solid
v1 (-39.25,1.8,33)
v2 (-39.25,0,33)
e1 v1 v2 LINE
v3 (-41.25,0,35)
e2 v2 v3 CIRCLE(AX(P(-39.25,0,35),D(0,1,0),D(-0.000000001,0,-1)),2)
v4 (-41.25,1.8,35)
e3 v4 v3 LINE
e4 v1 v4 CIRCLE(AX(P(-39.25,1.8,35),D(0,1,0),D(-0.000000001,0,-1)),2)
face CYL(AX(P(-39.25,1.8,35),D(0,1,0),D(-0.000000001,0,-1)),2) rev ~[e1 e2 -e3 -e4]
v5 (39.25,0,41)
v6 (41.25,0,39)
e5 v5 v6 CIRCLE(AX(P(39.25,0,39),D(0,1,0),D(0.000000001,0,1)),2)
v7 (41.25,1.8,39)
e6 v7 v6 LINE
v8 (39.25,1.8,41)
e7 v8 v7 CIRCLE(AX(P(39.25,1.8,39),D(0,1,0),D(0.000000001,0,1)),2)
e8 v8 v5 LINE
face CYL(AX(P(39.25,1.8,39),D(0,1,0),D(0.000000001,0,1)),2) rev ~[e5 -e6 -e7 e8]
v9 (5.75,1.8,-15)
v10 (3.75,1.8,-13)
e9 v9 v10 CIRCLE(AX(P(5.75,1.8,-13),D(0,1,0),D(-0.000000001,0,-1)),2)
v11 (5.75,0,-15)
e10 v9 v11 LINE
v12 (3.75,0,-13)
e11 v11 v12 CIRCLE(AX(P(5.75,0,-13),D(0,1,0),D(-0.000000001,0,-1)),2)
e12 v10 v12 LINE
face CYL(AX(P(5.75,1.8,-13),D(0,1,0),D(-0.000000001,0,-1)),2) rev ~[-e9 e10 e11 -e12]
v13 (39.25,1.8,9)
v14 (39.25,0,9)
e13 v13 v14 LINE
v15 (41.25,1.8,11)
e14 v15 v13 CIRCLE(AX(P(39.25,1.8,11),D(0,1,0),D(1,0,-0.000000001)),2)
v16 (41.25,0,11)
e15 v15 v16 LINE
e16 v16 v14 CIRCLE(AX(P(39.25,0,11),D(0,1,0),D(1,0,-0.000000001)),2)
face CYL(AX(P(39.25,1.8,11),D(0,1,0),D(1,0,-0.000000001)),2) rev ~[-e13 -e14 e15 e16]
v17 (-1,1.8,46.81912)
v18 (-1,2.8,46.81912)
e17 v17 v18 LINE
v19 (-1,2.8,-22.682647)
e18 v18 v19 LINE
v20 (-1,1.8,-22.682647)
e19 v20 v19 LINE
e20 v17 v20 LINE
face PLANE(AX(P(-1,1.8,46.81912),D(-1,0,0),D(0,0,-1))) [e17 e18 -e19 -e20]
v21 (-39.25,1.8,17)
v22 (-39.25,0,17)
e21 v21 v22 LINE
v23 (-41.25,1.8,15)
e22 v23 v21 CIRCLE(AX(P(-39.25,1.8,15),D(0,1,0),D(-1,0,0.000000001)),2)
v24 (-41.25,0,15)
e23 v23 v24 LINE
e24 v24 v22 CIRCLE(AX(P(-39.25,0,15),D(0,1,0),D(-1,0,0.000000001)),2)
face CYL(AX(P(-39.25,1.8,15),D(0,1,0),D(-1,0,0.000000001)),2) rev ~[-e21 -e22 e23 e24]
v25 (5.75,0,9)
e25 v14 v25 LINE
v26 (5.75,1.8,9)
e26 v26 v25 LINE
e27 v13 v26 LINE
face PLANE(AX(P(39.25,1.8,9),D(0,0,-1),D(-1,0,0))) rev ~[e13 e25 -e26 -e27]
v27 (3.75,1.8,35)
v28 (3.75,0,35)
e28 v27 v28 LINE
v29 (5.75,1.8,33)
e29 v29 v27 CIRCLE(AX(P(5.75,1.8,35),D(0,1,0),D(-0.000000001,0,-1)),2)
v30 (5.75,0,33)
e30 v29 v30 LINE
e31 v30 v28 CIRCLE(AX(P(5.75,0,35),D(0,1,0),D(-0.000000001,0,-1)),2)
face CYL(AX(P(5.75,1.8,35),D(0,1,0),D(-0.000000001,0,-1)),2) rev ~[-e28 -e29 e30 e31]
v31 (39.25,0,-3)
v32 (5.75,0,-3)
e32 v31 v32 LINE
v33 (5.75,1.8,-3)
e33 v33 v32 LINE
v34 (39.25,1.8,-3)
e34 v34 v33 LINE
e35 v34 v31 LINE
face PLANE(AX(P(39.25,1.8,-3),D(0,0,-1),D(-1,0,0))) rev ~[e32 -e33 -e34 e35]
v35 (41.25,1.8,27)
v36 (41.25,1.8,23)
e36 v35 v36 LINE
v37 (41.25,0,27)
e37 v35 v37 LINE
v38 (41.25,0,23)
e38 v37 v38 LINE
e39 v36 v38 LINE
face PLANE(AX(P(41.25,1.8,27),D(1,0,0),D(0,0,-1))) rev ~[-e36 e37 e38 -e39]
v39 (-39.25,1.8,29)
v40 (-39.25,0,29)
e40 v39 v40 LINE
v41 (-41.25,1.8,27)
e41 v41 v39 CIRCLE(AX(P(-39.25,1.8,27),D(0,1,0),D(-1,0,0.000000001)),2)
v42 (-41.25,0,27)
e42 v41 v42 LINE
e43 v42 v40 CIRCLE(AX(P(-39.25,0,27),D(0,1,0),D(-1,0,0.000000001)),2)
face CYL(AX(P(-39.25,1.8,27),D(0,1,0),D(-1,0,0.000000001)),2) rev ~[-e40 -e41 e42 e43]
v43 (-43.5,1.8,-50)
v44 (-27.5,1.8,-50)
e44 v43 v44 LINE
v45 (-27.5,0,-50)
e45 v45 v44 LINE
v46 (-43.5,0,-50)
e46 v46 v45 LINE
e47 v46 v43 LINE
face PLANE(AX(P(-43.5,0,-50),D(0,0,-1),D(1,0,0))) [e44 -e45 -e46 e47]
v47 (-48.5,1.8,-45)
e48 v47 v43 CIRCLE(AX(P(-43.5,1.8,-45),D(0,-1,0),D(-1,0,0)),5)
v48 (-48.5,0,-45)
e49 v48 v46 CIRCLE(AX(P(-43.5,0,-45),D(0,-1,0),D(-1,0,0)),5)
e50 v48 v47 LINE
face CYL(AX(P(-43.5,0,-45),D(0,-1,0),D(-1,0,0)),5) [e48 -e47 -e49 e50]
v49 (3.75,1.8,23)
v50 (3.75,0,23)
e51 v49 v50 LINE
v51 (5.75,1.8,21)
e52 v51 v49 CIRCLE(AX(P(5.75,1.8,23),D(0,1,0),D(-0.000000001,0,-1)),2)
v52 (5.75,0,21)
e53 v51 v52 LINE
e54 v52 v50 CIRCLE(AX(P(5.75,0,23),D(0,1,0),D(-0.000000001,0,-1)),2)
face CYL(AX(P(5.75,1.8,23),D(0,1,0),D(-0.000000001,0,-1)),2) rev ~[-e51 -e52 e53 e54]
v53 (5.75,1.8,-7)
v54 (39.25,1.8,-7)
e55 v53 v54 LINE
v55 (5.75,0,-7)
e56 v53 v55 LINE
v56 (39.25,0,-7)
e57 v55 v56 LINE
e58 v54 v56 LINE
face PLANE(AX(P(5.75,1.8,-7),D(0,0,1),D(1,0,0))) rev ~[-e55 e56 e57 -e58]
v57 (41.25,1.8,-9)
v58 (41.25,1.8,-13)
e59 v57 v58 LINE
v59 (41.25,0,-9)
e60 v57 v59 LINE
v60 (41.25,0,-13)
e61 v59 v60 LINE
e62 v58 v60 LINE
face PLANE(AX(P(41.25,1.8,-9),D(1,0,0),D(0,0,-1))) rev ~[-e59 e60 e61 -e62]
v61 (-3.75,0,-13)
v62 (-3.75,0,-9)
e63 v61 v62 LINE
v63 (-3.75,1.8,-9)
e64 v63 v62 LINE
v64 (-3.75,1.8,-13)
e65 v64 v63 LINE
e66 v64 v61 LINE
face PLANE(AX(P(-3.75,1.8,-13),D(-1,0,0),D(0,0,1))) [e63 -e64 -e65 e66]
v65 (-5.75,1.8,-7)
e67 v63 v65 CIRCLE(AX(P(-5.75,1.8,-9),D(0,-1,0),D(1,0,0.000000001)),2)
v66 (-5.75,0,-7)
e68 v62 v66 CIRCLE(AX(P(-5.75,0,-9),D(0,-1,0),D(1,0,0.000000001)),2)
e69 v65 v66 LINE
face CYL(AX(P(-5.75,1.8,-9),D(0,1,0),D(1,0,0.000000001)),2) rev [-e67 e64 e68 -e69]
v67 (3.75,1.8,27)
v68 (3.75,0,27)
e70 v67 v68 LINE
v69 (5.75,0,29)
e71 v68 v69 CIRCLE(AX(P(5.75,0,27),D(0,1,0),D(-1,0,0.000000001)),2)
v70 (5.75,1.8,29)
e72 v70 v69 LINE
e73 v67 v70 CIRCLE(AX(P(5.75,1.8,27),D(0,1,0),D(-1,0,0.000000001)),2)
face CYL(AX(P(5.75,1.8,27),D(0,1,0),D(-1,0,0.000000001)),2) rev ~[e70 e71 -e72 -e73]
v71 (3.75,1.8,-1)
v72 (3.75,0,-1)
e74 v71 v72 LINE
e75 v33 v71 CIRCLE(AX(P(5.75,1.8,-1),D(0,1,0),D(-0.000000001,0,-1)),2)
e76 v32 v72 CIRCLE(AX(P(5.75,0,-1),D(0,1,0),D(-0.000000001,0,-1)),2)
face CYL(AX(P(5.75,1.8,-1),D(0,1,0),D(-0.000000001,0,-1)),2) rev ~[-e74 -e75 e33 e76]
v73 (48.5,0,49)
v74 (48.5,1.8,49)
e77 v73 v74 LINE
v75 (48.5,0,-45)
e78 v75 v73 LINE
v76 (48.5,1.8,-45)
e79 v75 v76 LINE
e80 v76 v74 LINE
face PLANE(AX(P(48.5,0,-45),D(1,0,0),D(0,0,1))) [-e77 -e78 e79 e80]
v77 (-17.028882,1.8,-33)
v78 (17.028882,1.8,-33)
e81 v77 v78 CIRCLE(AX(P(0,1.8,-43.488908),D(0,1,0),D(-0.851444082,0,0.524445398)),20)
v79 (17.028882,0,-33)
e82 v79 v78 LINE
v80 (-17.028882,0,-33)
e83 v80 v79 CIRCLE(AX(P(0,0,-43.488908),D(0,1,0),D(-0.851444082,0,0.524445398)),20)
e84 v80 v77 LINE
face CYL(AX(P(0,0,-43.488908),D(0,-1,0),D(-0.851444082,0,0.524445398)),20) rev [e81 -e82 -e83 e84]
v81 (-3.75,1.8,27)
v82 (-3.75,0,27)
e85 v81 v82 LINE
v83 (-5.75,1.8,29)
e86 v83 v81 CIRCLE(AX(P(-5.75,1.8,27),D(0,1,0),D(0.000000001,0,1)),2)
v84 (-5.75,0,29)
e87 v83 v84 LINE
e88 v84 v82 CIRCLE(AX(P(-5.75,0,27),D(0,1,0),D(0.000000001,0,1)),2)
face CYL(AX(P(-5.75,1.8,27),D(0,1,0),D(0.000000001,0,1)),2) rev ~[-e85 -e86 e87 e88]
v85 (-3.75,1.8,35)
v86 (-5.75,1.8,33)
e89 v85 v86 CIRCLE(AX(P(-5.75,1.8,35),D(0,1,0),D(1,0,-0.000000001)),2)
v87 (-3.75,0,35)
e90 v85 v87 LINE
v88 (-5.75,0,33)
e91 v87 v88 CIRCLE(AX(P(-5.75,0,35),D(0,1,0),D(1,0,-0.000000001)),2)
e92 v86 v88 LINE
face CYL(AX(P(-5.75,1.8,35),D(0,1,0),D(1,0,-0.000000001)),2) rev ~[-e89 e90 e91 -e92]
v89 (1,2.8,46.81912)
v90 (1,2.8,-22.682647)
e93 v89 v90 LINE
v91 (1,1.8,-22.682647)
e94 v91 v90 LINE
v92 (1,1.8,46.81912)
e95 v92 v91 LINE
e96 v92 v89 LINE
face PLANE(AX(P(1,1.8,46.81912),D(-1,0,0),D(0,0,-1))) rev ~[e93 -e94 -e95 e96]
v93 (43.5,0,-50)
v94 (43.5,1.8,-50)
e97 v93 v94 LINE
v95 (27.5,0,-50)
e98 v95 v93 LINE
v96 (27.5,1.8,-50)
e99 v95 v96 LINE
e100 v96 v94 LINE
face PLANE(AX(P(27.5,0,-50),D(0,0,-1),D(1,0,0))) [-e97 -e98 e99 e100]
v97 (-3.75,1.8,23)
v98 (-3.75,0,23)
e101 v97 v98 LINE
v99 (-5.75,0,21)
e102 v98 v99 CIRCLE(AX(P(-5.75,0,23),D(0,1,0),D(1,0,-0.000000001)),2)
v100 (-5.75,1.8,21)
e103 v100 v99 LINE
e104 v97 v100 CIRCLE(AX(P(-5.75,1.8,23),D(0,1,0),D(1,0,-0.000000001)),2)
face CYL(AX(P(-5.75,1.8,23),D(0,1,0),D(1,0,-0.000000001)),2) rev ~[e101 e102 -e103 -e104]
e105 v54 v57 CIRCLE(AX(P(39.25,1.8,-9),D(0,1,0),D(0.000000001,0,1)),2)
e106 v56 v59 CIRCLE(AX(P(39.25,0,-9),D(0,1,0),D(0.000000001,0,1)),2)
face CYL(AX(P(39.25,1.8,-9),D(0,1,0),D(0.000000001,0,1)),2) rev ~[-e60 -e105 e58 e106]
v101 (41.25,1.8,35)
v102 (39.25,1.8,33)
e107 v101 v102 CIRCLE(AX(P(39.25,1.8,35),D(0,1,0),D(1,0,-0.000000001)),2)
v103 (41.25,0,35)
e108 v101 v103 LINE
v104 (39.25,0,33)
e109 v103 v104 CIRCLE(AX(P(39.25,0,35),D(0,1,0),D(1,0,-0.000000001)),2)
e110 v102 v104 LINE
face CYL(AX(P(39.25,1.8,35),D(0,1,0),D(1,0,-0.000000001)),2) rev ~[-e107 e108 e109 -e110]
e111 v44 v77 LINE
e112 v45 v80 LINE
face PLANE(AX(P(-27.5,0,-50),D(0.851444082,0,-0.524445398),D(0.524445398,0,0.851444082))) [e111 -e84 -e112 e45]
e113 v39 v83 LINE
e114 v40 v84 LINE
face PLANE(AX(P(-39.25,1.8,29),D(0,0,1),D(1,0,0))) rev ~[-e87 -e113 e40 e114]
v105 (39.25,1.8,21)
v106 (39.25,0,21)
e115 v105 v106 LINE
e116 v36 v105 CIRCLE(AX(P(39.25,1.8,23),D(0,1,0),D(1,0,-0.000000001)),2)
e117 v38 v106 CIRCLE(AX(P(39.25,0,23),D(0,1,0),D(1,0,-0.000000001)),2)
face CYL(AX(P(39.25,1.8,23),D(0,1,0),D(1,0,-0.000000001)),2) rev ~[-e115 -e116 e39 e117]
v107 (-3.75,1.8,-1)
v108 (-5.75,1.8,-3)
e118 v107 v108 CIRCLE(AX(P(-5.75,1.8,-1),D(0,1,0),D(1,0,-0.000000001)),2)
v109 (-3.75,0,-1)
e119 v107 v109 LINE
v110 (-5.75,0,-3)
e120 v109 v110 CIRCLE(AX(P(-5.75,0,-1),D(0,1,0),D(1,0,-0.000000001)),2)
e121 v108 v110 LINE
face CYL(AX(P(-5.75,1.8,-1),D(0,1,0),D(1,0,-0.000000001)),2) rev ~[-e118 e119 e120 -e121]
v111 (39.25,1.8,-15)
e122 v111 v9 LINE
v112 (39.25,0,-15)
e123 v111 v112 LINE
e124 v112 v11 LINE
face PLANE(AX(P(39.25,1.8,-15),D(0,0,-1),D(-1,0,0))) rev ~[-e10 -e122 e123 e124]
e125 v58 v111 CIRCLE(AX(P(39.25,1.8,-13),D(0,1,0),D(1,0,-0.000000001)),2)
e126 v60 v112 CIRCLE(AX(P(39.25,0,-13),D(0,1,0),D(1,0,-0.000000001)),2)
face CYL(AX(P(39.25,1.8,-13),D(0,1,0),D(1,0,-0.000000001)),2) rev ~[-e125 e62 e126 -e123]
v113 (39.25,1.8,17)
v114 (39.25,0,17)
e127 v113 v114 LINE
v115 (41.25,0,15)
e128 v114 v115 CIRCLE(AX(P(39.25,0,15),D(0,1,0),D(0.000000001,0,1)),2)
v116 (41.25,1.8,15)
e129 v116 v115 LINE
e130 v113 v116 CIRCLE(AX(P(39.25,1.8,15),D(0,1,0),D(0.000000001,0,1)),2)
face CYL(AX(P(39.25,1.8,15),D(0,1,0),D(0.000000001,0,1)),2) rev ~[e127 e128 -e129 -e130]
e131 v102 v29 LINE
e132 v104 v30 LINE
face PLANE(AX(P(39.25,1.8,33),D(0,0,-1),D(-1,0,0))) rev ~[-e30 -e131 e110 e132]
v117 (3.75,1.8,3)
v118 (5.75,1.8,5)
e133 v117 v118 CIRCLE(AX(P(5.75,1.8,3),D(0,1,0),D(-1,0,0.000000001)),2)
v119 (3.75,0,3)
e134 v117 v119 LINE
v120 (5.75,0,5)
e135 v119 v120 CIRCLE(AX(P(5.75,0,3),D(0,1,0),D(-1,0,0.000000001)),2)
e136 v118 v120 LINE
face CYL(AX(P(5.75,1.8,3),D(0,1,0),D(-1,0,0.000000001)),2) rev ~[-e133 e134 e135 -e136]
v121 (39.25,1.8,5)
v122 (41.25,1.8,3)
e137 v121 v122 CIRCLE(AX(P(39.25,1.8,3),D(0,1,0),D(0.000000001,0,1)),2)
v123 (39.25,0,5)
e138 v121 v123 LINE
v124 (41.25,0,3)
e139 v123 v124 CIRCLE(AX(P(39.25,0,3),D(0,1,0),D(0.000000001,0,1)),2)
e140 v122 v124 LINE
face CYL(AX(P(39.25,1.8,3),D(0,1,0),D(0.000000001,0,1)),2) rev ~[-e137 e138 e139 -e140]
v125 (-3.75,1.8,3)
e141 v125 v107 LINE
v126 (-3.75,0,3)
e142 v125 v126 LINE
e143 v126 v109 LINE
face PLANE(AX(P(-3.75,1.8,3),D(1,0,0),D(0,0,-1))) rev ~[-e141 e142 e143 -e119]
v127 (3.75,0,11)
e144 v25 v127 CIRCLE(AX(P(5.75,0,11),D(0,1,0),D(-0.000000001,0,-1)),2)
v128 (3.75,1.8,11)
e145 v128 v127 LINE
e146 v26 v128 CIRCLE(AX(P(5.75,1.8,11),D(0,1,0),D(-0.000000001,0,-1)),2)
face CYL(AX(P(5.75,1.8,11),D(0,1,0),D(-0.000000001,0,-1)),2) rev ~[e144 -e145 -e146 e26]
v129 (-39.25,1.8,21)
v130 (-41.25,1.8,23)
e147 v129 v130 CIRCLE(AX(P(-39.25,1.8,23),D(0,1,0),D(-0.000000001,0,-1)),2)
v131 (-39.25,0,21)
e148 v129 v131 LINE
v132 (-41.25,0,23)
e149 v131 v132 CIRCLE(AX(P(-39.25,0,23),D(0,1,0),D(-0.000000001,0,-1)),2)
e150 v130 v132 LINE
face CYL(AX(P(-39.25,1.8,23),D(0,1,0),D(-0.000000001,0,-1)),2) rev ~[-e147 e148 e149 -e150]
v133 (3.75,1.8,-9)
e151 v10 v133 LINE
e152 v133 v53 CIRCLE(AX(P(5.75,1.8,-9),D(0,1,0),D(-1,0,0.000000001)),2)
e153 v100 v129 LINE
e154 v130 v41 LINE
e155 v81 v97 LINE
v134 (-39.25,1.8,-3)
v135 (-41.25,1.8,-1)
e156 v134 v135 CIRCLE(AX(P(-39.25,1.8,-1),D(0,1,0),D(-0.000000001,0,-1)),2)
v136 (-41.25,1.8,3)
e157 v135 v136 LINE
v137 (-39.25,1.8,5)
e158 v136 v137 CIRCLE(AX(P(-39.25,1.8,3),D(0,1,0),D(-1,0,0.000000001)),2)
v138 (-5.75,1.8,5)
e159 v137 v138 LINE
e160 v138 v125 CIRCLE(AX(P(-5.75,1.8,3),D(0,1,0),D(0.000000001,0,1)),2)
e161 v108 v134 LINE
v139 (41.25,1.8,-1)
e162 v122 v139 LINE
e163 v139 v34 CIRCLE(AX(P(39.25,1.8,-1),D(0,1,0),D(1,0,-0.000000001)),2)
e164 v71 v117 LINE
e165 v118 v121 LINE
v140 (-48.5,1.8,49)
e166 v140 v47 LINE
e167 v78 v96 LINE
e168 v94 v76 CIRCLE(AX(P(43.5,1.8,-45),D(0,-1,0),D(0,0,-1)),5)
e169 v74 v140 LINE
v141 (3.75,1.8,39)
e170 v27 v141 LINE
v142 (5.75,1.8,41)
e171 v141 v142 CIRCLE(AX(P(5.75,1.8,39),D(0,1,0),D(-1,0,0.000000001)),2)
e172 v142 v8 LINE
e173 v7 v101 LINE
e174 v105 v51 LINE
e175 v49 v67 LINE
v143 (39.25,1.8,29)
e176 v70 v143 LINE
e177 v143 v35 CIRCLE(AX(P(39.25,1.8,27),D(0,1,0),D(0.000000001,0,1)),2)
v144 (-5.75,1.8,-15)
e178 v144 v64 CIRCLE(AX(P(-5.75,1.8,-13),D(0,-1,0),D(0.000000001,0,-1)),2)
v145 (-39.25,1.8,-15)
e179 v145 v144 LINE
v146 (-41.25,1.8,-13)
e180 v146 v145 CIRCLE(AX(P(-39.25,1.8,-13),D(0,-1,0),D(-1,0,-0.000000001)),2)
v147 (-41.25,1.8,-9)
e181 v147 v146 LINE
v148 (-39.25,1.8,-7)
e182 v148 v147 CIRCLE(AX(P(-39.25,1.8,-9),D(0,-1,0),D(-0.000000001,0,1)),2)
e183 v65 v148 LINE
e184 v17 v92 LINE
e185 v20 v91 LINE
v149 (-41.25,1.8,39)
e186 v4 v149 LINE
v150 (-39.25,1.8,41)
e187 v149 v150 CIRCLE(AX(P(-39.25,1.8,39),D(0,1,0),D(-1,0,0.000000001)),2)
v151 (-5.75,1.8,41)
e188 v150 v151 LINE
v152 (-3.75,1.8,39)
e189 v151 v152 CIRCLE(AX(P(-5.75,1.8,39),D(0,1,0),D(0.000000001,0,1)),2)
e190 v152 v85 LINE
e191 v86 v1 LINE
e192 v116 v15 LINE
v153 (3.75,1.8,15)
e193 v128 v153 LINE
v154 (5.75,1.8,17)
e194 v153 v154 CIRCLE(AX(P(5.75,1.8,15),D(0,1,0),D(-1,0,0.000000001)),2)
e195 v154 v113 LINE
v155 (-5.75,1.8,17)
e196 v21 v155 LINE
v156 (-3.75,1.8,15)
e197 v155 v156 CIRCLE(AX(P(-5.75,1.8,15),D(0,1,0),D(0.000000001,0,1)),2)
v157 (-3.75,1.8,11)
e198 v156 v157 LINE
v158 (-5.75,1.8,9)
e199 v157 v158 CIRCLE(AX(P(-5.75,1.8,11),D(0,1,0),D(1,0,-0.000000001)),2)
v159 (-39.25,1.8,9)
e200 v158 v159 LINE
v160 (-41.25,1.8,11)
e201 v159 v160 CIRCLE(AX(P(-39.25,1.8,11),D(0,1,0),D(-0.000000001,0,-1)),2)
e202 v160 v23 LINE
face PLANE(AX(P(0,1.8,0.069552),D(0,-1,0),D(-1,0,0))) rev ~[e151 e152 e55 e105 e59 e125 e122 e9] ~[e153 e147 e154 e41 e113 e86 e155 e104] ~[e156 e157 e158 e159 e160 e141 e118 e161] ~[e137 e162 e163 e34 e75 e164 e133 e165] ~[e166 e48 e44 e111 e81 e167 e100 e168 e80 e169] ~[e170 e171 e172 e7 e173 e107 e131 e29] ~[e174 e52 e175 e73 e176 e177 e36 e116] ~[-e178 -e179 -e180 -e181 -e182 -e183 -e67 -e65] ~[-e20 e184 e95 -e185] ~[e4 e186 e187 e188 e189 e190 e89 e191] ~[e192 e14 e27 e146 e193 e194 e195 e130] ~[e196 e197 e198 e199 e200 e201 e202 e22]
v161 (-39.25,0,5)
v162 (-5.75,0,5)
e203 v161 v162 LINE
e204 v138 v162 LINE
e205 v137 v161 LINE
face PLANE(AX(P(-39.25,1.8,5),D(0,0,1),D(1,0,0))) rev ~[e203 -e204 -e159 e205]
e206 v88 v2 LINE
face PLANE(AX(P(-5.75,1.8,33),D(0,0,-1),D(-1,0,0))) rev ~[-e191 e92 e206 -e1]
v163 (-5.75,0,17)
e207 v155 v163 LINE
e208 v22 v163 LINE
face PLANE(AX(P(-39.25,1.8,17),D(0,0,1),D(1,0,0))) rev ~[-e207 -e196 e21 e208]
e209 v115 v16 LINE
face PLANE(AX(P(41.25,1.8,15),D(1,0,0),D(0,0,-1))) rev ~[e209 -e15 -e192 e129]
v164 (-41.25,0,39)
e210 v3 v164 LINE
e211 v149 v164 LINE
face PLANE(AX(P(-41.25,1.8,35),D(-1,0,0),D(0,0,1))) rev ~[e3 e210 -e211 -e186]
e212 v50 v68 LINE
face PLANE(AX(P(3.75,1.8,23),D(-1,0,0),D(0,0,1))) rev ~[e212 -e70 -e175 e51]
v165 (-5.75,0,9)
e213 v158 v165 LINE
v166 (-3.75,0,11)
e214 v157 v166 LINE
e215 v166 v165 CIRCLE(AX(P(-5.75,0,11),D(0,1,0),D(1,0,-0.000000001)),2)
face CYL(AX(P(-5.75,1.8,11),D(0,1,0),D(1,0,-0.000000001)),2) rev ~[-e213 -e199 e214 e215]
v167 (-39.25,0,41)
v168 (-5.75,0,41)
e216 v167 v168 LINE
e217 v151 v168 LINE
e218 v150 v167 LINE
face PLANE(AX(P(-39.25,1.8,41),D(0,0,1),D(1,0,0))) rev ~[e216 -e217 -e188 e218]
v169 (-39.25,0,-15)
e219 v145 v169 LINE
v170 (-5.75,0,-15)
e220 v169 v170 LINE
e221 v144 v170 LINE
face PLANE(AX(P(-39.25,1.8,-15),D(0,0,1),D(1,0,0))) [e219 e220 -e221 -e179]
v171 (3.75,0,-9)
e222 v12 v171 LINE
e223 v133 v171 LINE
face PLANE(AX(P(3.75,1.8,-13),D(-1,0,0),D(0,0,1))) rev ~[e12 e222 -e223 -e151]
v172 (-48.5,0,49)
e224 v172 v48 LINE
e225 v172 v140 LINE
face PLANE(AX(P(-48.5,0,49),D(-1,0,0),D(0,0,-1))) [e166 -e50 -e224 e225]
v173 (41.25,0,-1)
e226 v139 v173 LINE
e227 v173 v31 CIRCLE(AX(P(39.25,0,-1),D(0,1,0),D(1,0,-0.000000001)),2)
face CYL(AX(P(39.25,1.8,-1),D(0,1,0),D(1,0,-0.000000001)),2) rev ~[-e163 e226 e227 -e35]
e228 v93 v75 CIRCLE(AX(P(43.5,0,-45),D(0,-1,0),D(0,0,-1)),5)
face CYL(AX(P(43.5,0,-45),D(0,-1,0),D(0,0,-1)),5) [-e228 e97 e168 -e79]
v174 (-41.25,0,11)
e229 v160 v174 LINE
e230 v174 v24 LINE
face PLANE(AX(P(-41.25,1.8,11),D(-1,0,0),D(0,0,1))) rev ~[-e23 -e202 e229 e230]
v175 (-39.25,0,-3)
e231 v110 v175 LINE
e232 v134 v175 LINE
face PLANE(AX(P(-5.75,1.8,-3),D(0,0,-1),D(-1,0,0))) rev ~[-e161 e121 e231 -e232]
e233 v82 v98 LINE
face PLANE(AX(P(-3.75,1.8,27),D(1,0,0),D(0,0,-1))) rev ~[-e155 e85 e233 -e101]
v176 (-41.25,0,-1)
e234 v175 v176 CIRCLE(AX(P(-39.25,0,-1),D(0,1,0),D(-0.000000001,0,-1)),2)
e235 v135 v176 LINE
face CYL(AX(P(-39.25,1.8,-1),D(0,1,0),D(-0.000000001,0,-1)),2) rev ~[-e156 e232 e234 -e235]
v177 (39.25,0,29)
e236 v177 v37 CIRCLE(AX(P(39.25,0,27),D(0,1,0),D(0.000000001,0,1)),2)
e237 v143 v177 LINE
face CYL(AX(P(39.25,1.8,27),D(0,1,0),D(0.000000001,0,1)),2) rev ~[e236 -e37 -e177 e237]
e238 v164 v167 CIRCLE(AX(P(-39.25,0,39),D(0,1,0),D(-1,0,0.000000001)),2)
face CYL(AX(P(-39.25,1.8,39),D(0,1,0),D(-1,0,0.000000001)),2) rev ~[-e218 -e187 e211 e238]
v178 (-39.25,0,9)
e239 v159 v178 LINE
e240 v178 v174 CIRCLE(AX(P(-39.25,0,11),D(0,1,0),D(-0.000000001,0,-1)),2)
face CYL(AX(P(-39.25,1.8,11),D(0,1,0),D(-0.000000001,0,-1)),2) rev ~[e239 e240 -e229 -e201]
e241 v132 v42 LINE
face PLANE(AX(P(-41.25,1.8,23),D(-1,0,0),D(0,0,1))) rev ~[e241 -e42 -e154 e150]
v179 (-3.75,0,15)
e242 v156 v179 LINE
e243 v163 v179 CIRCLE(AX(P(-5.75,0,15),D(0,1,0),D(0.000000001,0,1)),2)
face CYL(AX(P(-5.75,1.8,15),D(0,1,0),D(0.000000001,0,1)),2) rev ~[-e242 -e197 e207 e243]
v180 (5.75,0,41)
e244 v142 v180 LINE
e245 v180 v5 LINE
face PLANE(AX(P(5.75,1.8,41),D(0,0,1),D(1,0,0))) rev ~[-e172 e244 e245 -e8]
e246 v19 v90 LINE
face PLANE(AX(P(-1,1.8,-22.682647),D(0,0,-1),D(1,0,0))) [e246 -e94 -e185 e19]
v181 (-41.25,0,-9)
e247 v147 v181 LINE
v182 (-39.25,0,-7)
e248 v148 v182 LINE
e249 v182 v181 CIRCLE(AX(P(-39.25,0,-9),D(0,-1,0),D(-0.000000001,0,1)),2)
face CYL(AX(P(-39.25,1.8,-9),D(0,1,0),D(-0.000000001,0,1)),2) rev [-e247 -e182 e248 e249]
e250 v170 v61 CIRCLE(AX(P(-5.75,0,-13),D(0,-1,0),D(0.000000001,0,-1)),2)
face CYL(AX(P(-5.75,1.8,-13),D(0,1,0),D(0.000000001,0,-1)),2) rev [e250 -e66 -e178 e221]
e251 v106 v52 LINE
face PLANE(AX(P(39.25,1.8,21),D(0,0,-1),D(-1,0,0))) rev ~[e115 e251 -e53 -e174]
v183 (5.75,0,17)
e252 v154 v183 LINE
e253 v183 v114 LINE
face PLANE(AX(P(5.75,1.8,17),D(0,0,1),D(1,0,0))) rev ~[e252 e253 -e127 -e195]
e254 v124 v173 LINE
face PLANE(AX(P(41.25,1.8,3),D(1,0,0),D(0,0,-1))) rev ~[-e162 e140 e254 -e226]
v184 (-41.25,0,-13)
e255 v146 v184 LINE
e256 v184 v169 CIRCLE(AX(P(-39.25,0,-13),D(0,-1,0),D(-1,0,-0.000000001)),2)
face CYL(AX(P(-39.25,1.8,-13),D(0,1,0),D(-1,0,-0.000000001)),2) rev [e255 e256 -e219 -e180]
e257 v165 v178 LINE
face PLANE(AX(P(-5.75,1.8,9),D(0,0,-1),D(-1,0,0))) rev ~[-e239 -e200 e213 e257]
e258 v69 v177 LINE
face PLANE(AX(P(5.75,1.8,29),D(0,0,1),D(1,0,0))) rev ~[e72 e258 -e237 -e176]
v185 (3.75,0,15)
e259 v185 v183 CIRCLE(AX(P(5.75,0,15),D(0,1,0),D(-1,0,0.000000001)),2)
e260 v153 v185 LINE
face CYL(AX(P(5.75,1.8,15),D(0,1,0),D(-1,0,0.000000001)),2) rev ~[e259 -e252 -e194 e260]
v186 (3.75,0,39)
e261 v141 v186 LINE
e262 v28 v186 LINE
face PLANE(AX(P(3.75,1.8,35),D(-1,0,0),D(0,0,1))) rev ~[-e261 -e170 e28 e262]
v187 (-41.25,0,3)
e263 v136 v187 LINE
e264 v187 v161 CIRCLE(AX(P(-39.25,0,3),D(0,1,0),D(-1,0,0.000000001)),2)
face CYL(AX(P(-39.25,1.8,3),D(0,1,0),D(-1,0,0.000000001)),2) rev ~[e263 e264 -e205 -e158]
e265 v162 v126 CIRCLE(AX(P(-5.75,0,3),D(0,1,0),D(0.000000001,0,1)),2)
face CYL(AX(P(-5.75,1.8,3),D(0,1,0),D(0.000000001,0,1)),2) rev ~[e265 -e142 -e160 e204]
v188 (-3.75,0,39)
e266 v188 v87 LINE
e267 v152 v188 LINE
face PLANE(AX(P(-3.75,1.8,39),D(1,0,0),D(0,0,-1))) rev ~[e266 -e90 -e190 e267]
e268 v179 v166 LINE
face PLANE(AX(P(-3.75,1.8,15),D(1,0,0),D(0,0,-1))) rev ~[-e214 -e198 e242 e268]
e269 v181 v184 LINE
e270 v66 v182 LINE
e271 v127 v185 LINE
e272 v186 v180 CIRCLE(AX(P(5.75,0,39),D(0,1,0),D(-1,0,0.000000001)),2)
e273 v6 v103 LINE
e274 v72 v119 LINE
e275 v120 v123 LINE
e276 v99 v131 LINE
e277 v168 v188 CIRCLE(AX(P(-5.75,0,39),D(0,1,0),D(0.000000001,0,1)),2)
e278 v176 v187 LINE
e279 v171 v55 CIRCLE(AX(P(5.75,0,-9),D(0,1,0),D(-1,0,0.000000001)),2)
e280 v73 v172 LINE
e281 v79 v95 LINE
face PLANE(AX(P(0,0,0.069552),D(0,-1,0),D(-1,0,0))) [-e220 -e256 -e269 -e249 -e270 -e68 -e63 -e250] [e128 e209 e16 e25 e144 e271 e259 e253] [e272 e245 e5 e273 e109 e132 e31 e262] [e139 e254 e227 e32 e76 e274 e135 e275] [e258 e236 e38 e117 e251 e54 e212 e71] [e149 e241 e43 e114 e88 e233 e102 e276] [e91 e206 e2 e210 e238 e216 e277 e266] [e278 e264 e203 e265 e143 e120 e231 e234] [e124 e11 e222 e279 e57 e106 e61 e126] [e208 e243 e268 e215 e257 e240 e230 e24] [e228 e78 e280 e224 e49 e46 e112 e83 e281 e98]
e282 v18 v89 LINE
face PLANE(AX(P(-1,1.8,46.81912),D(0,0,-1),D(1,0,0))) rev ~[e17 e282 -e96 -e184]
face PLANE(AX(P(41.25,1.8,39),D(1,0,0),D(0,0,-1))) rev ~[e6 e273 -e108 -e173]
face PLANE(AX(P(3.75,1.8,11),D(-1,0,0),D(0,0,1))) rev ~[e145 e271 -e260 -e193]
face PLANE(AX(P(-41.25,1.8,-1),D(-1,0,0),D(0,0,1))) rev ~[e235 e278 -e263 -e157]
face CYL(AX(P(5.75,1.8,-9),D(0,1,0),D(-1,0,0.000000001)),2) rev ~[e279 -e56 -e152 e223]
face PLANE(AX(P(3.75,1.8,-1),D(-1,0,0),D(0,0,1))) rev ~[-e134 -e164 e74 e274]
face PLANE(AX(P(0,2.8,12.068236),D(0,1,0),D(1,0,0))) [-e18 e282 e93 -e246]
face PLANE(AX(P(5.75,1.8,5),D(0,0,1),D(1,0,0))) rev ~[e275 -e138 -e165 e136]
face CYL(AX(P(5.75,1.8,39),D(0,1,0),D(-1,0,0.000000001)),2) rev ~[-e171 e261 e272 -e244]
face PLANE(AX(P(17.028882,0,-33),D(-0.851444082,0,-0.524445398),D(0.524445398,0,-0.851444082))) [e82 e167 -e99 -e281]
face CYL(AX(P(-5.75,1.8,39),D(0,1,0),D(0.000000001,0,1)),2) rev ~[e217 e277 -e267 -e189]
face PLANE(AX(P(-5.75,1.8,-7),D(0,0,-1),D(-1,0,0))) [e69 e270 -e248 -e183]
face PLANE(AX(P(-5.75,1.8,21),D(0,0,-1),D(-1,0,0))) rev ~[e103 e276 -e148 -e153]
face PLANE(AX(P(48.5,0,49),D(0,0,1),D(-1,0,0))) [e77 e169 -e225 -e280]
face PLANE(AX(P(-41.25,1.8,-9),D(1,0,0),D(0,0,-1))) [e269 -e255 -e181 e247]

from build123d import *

# Parameters (mm, degrees)
GRUNDK_RPER_DEPTH = 1.8
L_FTUNGEN_DEPTH   = 1.8
SKIZZE4_W         = 2
SKIZZE4_H         = 69.501766887
STREBE_DEPTH      = 1


with BuildPart() as part:
    # Skizze2 → Grundkörper (new body)
    with BuildSketch(Plane(origin=(0, 0, 0), x_dir=(1, 0, 0), z_dir=(0, 1, 0))):
        with BuildLine():
            Line((-43.5, 50), (-27.5, 50))
            Line((-27.5, 50), (-17.028881642, 33))
            ThreePointArc((-17.028881642, 33), (0, 23.488907952), (17.028881642, 33))
            Line((17.028881642, 33), (27.5, 50))
            Line((27.5, 50), (43.5, 50))
            ThreePointArc((43.5, 50), (47.035533906, 48.535533906), (48.5, 45))
            Line((48.5, 45), (48.5, -49))
            Line((48.5, -49), (-48.5, -49))
            Line((-48.5, -49), (-48.5, 45))
            ThreePointArc((-48.5, 45), (-47.035533906, 48.535533906), (-43.5, 50))
        make_face()
    extrude(amount=GRUNDK_RPER_DEPTH)

    # Skizze3 → Lüftungen (cut)
    with BuildSketch(Plane(origin=(0, 1.8, 0), x_dir=(1, 0, 0), z_dir=(0, 1, 0))):
        with BuildLine():
            Line((-39.25, 15), (-5.75, 15))
            ThreePointArc((-5.75, 15), (-4.335786438, 14.414213562), (-3.75, 13))
            Line((-3.75, 13), (-3.75, 9))
            ThreePointArc((-3.75, 9), (-4.335786438, 7.585786438), (-5.75, 7))
            Line((-5.75, 7), (-39.25, 7))
            ThreePointArc((-39.25, 7), (-40.664213562, 7.585786438), (-41.25, 9))
            Line((-41.25, 9), (-41.25, 13))
            ThreePointArc((-41.25, 13), (-40.664213562, 14.414213562), (-39.25, 15))
        make_face()
        with BuildLine():
            Line((3.75, 13), (3.75, 9))
            ThreePointArc((3.75, 9), (4.335786438, 7.585786438), (5.75, 7))
            Line((5.75, 7), (39.25, 7))
            ThreePointArc((39.25, 7), (40.664213562, 7.585786438), (41.25, 9))
            Line((41.25, 9), (41.25, 13))
            ThreePointArc((41.25, 13), (40.664213562, 14.414213562), (39.25, 15))
            Line((39.25, 15), (5.75, 15))
            ThreePointArc((5.75, 15), (4.335786438, 14.414213562), (3.75, 13))
        make_face()
        with BuildLine():
            Line((3.75, 1), (3.75, -3))
            ThreePointArc((3.75, -3), (4.335786438, -4.414213562), (5.75, -5))
            Line((5.75, -5), (39.25, -5))
            ThreePointArc((39.25, -5), (40.664213562, -4.414213562), (41.25, -3))
            Line((41.25, -3), (41.25, 1))
            ThreePointArc((41.25, 1), (40.664213562, 2.414213562), (39.25, 3))
            Line((39.25, 3), (5.75, 3))
            ThreePointArc((5.75, 3), (4.335786438, 2.414213562), (3.75, 1))
        make_face()
        with BuildLine():
            Line((3.75, -11), (3.75, -15))
            ThreePointArc((3.75, -15), (4.335786438, -16.414213562), (5.75, -17))
            Line((5.75, -17), (39.25, -17))
            ThreePointArc((39.25, -17), (40.664213562, -16.414213562), (41.25, -15))
            Line((41.25, -15), (41.25, -11))
            ThreePointArc((41.25, -11), (40.664213562, -9.585786438), (39.25, -9))
            Line((39.25, -9), (5.75, -9))
            ThreePointArc((5.75, -9), (4.335786438, -9.585786438), (3.75, -11))
        make_face()
        with BuildLine():
            Line((3.75, -23), (3.75, -27))
            ThreePointArc((3.75, -27), (4.335786438, -28.414213562), (5.75, -29))
            Line((5.75, -29), (39.25, -29))
            ThreePointArc((39.25, -29), (40.664213562, -28.414213562), (41.25, -27))
            Line((41.25, -27), (41.25, -23))
            ThreePointArc((41.25, -23), (40.664213562, -21.585786438), (39.25, -21))
            Line((39.25, -21), (5.75, -21))
            ThreePointArc((5.75, -21), (4.335786438, -21.585786438), (3.75, -23))
        make_face()
        with BuildLine():
            Line((3.75, -35), (3.75, -39))
            ThreePointArc((3.75, -39), (4.335786438, -40.414213562), (5.75, -41))
            Line((5.75, -41), (39.25, -41))
            ThreePointArc((39.25, -41), (40.664213562, -40.414213562), (41.25, -39))
            Line((41.25, -39), (41.25, -35))
            ThreePointArc((41.25, -35), (40.664213562, -33.585786438), (39.25, -33))
            Line((39.25, -33), (5.75, -33))
            ThreePointArc((5.75, -33), (4.335786438, -33.585786438), (3.75, -35))
        make_face()
        with BuildLine():
            Line((-41.25, 1), (-41.25, -3))
            ThreePointArc((-41.25, -3), (-40.664213562, -4.414213562), (-39.25, -5))
            Line((-39.25, -5), (-5.75, -5))
            ThreePointArc((-5.75, -5), (-4.335786438, -4.414213562), (-3.75, -3))
            Line((-3.75, -3), (-3.75, 1))
            ThreePointArc((-3.75, 1), (-4.335786438, 2.414213562), (-5.75, 3))
            Line((-5.75, 3), (-39.25, 3))
            ThreePointArc((-39.25, 3), (-40.664213562, 2.414213562), (-41.25, 1))
        make_face()
        with BuildLine():
            Line((-41.25, -11), (-41.25, -15))
            ThreePointArc((-41.25, -15), (-40.664213562, -16.414213562), (-39.25, -17))
            Line((-39.25, -17), (-5.75, -17))
            ThreePointArc((-5.75, -17), (-4.335786438, -16.414213562), (-3.75, -15))
            Line((-3.75, -15), (-3.75, -11))
            ThreePointArc((-3.75, -11), (-4.335786438, -9.585786438), (-5.75, -9))
            Line((-5.75, -9), (-39.25, -9))
            ThreePointArc((-39.25, -9), (-40.664213562, -9.585786438), (-41.25, -11))
        make_face()
        with BuildLine():
            Line((-41.25, -23), (-41.25, -27))
            ThreePointArc((-41.25, -27), (-40.664213562, -28.414213562), (-39.25, -29))
            Line((-39.25, -29), (-5.75, -29))
            ThreePointArc((-5.75, -29), (-4.335786438, -28.414213562), (-3.75, -27))
            Line((-3.75, -27), (-3.75, -23))
            ThreePointArc((-3.75, -23), (-4.335786438, -21.585786438), (-5.75, -21))
            Line((-5.75, -21), (-39.25, -21))
            ThreePointArc((-39.25, -21), (-40.664213562, -21.585786438), (-41.25, -23))
        make_face()
        with BuildLine():
            Line((-41.25, -35), (-41.25, -39))
            ThreePointArc((-41.25, -39), (-40.664213562, -40.414213562), (-39.25, -41))
            Line((-39.25, -41), (-5.75, -41))
            ThreePointArc((-5.75, -41), (-4.335786438, -40.414213562), (-3.75, -39))
            Line((-3.75, -39), (-3.75, -35))
            ThreePointArc((-3.75, -35), (-4.335786438, -33.585786438), (-5.75, -33))
            Line((-5.75, -33), (-39.25, -33))
            ThreePointArc((-39.25, -33), (-40.664213562, -33.585786438), (-41.25, -35))
        make_face()
    extrude(amount=-L_FTUNGEN_DEPTH, mode=Mode.SUBTRACT)

    # Skizze4 → Strebe (add)
    with BuildSketch(Plane(origin=(0, 1.8, 0), x_dir=(1, 0, 0), z_dir=(0, 1, 0))):
        with Locations((0, -12.068236179)):
            Rectangle(SKIZZE4_W, SKIZZE4_H)
    extrude(amount=STREBE_DEPTH)


solid = part.part
